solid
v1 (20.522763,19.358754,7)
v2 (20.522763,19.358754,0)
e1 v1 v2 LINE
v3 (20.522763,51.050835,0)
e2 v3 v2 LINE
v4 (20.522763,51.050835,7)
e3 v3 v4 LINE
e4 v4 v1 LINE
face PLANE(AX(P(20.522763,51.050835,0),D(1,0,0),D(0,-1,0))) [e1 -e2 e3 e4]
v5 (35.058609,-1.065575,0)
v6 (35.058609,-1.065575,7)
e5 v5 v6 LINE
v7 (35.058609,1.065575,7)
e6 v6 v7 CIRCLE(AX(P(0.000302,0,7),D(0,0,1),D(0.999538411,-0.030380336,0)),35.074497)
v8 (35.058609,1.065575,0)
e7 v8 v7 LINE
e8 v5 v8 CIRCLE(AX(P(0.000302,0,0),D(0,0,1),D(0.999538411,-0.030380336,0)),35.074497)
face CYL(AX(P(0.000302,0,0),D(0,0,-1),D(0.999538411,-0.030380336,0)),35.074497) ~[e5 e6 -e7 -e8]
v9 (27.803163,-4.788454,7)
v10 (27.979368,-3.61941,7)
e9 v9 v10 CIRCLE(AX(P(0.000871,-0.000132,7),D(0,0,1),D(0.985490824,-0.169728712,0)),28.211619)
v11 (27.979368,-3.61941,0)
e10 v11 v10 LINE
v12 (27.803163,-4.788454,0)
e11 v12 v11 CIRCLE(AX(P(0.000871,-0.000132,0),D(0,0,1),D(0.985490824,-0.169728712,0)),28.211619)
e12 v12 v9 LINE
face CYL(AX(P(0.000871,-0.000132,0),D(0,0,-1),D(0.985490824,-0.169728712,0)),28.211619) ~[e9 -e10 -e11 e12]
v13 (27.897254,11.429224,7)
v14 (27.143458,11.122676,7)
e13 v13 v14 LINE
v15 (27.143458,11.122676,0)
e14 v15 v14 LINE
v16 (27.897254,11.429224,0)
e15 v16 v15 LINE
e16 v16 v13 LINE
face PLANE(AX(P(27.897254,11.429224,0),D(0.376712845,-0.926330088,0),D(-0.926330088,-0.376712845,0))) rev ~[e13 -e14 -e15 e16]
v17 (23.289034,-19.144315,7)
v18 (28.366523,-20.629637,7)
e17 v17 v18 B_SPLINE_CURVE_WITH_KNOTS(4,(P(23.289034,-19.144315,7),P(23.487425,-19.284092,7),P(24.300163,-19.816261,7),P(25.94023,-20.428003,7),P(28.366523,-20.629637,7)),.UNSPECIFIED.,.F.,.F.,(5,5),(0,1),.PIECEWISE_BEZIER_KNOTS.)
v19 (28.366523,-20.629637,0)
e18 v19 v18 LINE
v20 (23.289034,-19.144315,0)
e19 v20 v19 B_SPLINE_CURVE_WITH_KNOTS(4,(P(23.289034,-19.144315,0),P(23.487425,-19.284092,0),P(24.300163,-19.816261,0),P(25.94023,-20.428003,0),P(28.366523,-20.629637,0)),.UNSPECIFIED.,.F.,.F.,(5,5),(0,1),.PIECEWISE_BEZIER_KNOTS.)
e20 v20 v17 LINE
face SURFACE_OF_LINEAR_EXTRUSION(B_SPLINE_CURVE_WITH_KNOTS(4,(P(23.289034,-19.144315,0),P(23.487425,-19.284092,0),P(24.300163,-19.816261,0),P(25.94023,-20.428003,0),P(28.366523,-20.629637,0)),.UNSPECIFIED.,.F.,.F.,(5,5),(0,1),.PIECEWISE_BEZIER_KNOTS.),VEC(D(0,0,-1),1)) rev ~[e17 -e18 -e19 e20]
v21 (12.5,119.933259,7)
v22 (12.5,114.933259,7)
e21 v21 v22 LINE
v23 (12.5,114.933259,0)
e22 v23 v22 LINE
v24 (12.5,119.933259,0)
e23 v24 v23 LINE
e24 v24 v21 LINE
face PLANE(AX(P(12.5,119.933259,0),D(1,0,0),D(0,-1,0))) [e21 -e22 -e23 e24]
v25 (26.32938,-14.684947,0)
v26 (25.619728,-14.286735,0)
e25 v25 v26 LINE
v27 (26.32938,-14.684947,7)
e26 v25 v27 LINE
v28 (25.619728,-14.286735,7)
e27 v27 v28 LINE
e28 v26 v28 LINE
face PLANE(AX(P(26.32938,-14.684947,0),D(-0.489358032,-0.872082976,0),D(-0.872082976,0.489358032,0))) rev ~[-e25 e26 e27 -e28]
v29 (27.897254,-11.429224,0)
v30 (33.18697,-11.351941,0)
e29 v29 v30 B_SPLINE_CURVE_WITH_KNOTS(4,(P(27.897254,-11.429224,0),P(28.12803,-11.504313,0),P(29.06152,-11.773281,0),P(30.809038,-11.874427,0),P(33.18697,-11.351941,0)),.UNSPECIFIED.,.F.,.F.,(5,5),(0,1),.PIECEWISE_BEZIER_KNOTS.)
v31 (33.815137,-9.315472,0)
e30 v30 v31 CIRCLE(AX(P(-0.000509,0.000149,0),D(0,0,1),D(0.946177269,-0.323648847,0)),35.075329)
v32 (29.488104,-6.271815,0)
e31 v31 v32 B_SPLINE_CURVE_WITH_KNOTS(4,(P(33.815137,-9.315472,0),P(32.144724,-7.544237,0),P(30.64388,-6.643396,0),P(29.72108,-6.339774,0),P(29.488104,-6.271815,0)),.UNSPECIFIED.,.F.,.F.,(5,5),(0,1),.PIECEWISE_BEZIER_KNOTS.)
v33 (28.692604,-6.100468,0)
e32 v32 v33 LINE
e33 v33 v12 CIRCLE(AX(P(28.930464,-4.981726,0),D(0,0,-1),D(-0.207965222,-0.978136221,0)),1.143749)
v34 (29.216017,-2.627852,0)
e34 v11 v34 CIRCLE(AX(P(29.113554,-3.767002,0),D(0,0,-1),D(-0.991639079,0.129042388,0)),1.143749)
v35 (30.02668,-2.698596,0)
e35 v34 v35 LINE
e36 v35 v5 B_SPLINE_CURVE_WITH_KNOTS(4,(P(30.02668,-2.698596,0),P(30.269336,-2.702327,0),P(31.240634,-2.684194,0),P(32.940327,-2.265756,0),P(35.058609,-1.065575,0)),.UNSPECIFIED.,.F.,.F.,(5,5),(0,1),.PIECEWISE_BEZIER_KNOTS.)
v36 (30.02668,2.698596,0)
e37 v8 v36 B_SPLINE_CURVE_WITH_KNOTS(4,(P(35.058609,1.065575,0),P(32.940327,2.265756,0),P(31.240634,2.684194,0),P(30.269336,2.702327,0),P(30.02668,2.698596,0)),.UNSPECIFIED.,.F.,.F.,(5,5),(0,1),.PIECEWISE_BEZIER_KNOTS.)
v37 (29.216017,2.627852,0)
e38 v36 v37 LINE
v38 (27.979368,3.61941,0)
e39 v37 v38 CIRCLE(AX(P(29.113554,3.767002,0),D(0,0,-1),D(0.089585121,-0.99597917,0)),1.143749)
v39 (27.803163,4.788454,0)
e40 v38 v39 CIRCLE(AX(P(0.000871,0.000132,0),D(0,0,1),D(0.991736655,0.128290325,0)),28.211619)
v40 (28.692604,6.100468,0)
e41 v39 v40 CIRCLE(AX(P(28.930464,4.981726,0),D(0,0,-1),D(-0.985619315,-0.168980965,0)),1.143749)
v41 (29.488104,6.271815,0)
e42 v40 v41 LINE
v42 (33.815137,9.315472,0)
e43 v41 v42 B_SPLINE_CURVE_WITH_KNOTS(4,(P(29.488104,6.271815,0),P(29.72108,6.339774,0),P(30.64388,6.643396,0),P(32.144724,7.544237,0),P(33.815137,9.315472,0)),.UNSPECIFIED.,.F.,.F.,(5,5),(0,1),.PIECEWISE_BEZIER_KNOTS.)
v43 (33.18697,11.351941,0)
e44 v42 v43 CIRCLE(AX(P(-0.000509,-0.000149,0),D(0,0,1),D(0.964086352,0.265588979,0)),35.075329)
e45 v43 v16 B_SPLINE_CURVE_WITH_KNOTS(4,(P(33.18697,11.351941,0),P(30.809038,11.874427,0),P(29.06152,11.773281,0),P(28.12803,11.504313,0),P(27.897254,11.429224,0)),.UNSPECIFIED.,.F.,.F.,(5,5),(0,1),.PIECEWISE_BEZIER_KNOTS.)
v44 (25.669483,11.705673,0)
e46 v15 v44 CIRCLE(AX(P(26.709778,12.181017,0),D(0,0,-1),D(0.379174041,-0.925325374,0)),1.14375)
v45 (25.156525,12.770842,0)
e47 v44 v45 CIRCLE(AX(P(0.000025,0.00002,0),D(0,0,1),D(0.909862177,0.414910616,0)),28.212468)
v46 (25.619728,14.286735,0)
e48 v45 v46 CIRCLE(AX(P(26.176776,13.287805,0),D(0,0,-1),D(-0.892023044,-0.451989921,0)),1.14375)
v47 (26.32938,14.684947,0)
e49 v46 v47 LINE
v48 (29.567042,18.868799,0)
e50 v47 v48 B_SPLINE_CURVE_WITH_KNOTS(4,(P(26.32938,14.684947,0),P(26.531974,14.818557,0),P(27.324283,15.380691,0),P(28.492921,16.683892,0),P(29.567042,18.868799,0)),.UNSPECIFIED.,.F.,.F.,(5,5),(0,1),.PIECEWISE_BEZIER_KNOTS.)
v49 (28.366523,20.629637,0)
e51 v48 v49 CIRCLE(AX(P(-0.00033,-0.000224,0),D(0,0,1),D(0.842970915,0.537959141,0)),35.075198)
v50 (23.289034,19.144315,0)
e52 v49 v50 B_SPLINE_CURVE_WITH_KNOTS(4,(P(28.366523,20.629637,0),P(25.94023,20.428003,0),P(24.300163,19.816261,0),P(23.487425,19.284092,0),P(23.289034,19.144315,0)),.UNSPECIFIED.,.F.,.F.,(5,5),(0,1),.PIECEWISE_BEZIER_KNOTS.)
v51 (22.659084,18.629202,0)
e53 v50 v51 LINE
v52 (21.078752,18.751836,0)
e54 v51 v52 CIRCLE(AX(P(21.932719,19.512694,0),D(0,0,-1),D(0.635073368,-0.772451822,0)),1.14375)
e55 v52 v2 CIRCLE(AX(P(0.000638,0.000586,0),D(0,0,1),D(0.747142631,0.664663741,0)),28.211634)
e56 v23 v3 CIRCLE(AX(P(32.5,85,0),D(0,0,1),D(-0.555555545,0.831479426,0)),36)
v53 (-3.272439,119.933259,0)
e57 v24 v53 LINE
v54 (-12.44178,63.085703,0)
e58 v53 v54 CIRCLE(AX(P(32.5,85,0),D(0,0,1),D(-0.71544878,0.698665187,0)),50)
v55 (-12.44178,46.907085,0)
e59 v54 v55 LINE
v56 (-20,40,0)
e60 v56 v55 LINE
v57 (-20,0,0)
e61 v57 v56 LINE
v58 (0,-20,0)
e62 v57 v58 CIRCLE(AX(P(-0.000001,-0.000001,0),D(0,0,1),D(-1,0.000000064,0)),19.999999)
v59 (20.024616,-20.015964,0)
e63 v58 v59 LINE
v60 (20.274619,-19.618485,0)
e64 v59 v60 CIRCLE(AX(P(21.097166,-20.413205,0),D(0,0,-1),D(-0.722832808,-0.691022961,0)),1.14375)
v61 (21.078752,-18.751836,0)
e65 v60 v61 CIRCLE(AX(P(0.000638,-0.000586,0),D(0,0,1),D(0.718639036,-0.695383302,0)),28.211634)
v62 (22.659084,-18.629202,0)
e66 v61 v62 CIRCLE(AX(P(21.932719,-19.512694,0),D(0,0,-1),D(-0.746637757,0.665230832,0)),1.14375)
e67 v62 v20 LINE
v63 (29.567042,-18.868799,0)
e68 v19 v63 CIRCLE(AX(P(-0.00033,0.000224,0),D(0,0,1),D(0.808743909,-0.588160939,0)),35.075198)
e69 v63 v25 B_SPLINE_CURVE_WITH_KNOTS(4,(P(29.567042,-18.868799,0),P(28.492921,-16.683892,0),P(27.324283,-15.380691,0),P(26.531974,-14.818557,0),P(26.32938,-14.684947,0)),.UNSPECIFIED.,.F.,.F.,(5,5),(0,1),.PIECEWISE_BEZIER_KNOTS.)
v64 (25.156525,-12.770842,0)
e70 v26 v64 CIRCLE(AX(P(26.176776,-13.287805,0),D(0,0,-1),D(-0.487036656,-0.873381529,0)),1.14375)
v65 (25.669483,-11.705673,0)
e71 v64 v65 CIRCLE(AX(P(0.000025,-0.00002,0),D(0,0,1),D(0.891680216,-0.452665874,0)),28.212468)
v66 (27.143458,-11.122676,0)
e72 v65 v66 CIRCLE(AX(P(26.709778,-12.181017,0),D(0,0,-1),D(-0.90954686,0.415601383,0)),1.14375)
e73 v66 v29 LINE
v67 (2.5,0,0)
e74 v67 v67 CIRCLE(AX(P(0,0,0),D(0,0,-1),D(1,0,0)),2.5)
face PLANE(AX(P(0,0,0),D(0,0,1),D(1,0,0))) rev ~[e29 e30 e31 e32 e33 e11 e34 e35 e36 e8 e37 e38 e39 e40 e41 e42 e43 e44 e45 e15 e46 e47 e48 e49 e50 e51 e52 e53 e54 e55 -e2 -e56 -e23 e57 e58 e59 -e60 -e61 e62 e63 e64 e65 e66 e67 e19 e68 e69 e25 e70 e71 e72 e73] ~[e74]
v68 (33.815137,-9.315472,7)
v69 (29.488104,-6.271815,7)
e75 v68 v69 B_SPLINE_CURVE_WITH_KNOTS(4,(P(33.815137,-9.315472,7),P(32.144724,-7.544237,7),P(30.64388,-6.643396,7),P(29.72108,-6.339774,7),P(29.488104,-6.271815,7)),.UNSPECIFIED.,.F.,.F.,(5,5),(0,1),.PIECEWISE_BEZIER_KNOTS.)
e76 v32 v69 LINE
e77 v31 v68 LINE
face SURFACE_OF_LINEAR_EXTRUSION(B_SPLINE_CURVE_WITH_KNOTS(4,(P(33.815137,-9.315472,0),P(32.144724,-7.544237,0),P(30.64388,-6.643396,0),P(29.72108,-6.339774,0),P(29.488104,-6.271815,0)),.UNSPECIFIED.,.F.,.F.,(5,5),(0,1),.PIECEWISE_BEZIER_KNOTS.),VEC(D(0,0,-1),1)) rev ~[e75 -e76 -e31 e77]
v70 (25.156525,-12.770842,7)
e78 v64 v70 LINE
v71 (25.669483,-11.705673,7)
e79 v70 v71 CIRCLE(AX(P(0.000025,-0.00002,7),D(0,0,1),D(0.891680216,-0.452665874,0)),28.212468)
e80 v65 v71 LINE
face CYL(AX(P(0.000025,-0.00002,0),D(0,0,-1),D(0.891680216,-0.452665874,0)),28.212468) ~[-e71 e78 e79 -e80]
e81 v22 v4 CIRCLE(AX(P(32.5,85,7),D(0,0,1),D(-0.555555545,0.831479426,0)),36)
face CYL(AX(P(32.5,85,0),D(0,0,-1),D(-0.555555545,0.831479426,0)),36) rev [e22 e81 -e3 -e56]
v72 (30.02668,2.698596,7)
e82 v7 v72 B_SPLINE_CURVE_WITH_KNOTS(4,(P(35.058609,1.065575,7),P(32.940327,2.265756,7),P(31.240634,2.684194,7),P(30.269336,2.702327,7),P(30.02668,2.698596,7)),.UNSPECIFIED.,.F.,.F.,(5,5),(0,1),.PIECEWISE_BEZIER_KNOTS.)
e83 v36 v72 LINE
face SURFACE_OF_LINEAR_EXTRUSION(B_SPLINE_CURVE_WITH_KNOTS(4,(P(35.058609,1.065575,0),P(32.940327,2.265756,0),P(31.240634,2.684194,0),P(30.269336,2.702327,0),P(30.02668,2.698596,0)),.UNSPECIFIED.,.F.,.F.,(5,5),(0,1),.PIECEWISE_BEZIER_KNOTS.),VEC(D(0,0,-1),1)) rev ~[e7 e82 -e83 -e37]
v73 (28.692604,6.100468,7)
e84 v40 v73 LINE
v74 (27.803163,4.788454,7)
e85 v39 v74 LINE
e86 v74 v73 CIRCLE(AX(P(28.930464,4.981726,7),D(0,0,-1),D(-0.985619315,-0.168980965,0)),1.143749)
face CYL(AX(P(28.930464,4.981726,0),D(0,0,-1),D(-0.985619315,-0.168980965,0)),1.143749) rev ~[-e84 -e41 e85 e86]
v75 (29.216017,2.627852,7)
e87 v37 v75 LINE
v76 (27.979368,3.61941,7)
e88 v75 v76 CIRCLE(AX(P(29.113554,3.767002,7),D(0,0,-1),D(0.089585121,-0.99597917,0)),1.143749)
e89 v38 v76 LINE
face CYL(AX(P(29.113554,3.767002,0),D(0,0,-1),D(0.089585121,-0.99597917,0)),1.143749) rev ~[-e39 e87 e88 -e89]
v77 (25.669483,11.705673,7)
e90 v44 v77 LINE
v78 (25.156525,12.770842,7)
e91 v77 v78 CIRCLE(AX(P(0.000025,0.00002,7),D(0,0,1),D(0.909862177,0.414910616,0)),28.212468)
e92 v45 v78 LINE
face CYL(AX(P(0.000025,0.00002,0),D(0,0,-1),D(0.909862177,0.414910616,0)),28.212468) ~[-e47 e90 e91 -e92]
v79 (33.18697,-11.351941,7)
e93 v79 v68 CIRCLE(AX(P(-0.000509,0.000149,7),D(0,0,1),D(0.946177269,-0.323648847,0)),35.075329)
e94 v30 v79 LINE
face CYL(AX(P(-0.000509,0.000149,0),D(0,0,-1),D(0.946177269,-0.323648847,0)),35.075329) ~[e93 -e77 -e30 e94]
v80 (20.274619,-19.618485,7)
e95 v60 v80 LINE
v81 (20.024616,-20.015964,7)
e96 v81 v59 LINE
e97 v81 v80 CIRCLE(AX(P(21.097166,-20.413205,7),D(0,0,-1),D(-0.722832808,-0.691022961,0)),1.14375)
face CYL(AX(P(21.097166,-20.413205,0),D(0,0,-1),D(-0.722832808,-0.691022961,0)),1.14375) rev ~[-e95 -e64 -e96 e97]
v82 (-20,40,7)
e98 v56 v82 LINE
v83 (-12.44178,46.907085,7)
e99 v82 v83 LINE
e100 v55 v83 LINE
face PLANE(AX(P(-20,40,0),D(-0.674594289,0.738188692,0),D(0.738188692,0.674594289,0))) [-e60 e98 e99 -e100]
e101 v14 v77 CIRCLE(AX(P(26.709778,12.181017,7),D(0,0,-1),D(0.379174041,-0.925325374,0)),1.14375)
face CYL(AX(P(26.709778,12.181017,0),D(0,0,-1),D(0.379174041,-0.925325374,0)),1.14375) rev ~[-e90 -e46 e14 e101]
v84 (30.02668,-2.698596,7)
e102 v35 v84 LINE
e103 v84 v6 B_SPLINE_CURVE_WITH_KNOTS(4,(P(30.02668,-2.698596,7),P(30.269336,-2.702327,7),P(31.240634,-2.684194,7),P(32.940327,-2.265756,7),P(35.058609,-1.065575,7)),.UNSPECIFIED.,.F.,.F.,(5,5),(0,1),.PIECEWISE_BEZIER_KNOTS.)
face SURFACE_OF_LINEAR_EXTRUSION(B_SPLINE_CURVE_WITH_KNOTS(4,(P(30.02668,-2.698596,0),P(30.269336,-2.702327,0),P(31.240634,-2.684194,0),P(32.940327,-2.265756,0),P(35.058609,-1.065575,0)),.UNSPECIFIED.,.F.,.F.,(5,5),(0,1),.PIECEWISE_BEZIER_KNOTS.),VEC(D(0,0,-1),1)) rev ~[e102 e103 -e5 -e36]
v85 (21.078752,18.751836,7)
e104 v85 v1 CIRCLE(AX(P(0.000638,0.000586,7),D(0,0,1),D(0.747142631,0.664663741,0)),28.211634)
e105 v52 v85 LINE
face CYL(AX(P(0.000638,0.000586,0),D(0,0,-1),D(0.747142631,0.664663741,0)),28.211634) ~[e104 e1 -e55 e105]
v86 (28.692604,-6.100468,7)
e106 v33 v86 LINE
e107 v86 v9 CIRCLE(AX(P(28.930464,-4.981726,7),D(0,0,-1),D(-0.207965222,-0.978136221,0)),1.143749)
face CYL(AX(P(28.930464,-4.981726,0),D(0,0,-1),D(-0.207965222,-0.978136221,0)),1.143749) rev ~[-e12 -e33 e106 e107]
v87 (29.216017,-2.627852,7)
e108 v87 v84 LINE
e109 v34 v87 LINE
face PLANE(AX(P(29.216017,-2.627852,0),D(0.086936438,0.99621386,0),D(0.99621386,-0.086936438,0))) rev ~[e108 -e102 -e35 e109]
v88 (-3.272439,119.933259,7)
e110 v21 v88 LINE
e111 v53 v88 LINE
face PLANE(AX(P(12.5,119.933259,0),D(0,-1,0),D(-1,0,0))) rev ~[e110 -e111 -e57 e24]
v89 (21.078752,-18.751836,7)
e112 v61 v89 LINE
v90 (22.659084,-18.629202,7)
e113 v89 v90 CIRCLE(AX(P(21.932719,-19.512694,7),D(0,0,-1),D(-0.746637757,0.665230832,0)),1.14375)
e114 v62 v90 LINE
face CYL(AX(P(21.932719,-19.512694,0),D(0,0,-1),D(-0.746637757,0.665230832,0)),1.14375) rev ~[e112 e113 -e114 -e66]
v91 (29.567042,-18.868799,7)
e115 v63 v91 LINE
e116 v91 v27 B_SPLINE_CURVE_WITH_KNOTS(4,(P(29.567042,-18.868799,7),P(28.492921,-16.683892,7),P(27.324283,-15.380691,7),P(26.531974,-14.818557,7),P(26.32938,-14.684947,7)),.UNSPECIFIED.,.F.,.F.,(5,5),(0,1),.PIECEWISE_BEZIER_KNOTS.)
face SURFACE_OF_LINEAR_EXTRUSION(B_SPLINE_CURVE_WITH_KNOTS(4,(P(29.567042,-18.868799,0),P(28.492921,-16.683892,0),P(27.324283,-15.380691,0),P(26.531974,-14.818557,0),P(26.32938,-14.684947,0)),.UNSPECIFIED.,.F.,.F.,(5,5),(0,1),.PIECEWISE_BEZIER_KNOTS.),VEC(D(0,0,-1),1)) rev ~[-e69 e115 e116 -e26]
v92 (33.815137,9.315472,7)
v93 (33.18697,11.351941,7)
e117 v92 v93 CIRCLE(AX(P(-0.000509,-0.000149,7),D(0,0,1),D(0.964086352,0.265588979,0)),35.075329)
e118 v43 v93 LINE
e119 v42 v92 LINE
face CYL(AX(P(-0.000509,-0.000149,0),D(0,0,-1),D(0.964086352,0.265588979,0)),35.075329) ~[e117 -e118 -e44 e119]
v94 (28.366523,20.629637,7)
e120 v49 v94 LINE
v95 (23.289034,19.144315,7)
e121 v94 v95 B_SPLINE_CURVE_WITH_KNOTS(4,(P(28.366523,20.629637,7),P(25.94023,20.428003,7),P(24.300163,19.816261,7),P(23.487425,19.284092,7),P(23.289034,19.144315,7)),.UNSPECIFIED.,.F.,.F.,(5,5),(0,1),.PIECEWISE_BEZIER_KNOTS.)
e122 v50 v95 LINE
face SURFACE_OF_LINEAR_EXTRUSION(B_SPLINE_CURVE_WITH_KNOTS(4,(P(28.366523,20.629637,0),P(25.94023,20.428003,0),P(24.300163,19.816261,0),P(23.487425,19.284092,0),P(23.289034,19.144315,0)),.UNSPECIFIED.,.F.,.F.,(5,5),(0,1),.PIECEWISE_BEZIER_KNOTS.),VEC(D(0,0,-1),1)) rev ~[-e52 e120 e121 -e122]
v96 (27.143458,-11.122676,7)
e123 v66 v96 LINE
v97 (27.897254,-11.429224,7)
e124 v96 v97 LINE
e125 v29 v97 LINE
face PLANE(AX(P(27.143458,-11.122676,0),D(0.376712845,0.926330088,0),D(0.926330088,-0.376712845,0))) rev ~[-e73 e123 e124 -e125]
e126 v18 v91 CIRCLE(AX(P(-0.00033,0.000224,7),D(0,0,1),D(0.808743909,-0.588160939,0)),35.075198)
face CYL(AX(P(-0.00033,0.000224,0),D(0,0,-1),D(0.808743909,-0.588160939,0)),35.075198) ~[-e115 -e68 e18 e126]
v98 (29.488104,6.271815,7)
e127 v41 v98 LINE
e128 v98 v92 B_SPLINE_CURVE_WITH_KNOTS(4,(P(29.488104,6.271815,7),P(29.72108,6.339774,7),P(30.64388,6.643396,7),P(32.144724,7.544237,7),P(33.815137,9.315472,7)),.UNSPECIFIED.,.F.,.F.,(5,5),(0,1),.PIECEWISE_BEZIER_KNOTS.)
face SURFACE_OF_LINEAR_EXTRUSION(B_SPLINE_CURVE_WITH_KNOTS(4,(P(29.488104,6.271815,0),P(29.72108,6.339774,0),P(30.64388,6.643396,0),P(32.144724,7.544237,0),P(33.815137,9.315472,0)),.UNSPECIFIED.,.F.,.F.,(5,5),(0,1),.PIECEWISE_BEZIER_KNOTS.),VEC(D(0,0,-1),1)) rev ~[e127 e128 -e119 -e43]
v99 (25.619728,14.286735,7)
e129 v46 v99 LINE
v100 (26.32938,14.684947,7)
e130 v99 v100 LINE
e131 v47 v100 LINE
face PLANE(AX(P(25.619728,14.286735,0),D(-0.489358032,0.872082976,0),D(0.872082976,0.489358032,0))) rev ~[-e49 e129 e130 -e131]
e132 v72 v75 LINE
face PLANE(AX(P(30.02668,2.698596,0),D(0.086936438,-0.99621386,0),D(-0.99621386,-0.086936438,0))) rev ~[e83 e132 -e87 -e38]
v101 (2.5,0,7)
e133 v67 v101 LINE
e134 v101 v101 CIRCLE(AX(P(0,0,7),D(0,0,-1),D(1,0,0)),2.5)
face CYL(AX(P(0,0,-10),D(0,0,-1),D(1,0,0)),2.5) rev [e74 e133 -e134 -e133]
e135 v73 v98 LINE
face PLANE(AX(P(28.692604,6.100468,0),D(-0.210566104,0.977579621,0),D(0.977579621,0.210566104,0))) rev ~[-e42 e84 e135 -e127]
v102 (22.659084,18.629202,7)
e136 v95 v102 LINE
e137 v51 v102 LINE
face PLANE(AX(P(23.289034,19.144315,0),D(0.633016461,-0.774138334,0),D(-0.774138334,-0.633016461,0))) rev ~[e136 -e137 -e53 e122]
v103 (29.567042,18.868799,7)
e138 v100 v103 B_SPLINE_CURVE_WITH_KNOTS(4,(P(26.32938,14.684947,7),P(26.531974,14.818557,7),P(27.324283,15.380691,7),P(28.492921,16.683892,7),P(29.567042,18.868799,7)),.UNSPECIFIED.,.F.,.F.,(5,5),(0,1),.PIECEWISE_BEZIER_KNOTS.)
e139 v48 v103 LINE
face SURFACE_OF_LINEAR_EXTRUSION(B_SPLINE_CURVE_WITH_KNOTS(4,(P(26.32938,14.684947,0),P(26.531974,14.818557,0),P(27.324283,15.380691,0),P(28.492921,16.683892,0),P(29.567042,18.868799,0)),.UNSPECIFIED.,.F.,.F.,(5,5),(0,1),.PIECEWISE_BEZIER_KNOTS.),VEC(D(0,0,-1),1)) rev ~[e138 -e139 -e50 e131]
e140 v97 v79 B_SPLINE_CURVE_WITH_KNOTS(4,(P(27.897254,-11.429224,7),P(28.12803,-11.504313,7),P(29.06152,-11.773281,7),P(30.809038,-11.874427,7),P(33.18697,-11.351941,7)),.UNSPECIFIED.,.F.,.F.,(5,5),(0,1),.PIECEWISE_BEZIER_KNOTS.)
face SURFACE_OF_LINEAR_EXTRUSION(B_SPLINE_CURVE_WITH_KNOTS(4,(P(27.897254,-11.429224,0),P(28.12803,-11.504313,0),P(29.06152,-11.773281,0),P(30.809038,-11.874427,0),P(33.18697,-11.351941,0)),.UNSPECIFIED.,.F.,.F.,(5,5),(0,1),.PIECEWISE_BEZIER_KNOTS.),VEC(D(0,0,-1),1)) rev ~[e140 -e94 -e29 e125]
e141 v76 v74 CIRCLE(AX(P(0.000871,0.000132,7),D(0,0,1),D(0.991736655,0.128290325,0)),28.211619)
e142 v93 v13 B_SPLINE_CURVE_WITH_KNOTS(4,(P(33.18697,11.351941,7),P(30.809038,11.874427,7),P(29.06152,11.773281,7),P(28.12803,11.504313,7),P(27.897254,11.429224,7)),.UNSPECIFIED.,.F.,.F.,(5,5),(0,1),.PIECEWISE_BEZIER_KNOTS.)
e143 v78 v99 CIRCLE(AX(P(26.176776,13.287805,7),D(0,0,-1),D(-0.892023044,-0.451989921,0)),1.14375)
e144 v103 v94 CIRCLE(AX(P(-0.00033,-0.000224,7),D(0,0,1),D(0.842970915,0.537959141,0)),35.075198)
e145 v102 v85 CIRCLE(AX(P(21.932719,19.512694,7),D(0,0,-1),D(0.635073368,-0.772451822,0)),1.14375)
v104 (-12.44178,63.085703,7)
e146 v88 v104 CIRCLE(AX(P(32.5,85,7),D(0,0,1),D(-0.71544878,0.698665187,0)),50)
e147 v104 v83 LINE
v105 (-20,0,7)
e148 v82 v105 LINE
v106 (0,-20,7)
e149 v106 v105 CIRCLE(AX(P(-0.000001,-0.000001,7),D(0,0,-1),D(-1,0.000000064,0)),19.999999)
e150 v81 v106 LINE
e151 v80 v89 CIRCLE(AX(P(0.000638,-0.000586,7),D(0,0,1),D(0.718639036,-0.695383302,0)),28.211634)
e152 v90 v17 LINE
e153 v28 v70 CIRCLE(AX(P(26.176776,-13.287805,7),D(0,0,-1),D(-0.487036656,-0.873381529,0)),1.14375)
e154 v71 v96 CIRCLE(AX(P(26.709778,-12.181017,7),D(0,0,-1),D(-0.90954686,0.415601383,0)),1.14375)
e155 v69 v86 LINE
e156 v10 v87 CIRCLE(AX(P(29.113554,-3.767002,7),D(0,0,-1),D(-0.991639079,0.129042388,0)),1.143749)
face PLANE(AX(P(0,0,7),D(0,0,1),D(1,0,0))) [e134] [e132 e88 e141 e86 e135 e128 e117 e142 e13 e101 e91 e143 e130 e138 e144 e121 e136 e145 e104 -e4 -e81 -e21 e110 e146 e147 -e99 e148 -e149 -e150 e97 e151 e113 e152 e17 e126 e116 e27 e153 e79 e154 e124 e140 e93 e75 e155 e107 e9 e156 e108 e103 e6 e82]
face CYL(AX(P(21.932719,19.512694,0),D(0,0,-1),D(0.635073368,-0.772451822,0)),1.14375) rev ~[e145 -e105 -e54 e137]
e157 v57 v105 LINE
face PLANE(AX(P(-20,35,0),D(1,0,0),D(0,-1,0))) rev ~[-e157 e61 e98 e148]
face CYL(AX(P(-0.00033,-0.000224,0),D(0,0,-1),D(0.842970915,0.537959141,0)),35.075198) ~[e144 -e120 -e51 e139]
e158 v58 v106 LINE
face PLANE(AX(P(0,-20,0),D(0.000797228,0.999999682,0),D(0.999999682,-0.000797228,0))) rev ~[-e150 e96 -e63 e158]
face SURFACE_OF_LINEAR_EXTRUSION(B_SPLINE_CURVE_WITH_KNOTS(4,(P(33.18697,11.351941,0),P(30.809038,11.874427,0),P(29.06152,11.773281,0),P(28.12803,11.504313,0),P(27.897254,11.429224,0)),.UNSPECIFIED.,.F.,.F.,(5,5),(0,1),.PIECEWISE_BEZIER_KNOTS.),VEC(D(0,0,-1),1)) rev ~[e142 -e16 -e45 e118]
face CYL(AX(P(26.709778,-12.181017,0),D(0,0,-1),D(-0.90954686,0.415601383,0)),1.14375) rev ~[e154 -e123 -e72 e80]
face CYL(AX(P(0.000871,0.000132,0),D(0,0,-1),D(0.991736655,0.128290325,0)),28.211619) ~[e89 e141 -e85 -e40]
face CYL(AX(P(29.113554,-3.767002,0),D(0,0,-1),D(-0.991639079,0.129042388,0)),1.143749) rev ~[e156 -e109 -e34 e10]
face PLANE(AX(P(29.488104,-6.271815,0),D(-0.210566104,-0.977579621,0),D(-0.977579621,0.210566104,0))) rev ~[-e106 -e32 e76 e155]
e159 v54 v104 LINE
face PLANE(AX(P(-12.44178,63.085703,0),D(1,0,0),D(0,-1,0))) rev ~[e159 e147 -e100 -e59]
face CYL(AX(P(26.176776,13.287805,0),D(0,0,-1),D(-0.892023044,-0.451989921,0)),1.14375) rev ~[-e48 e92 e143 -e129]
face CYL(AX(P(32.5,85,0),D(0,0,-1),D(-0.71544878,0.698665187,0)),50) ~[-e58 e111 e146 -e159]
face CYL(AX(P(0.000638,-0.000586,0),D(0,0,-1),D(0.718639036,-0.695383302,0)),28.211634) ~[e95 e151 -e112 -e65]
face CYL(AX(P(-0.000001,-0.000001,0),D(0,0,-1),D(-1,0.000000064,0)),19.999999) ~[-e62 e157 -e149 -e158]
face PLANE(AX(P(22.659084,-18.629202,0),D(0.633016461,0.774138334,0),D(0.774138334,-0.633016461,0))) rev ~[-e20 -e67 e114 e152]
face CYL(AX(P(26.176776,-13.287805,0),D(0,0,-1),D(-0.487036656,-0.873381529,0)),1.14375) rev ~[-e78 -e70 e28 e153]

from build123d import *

# Parameters (mm, degrees)
SKETCH002_W       = 3.675859
SKETCH002_H       = 9.820133
PAD002_DEPTH      = 10
CYLINDER001_R     = 2.5
CYLINDER001_DEPTH = 30
PAD_DEPTH         = 7
PAD001_DEPTH      = 7


with BuildPart() as gearcutter_g:
    # Sketch002 → Pad002 (new body)
    with BuildSketch(Plane.XY):
        with BuildLine():
            Line((-20, 35), (-38.772621, 35))
            Line((-38.772621, 35), (-38.772621, -38.212818))
            Line((-38.772621, -38.212818), (39.418999, -38.212818))
            Line((20.044458, -20.01598), (39.418999, -38.212818))
            Line((0, -20), (20.044458, -20.01598))
            ThreePointArc((-20, 0), (-14.142136, -14.142136), (0, -20))
            Line((-20, 35), (-20, 0))
        make_face()
        with Locations((21.83793, 25.089934)):
            Rectangle(SKETCH002_W, SKETCH002_H)
    extrude(amount=PAD002_DEPTH)


with BuildPart() as hole:
    # Cylinder001 → Cylinder001 (new body)
    with BuildSketch(Plane.XY.offset(-10)):
        Circle(CYLINDER001_R)
    extrude(amount=CYLINDER001_DEPTH)


with BuildPart() as cut001:
    # InvoluteGear → Pad (new body)
    with BuildSketch(Plane.XY):
        with BuildLine():
            Line((29.216017, -2.627852), (30.02668, -2.698596))
            add(Edge.make_bspline(
                [(30.02668, -2.698596), (30.269336, -2.702327), (31.240634, -2.684194), (32.940327, -2.265756), (35.058609, -1.065575)],
                knots=[0, 0, 0, 0, 0, 1, 1, 1, 1, 1], degree=4))
            ThreePointArc((35.058609, -1.065575), (35.074799, 0), (35.058609, 1.065575))
            add(Edge.make_bspline(
                [(35.058609, 1.065575), (32.940327, 2.265756), (31.240634, 2.684194), (30.269336, 2.702327), (30.02668, 2.698596)],
                knots=[0, 0, 0, 0, 0, 1, 1, 1, 1, 1], degree=4))
            Line((30.02668, 2.698596), (29.216017, 2.627852))
            ThreePointArc((29.216017, 2.627852), (28.398075, 2.874673), (27.979368, 3.61941))
            ThreePointArc((27.979368, 3.61941), (27.89739, 4.204855), (27.803163, 4.788454))
            ThreePointArc((27.803163, 4.788454), (27.983753, 5.62352), (28.692604, 6.100468))
            Line((28.692604, 6.100468), (29.488104, 6.271815))
            add(Edge.make_bspline(
                [(29.488104, 6.271815), (29.72108, 6.339774), (30.64388, 6.643396), (32.144724, 7.544237), (33.815137, 9.315472)],
                knots=[0, 0, 0, 0, 0, 1, 1, 1, 1, 1], degree=4))
            ThreePointArc((33.815137, 9.315472), (33.516524, 10.338478), (33.18697, 11.351941))
            add(Edge.make_bspline(
                [(33.18697, 11.351941), (30.809038, 11.874427), (29.06152, 11.773281), (28.12803, 11.504313), (27.897254, 11.429224)],
                knots=[0, 0, 0, 0, 0, 1, 1, 1, 1, 1], degree=4))
            Line((27.897254, 11.429224), (27.143458, 11.122676))
            ThreePointArc((27.143458, 11.122676), (26.289104, 11.117439), (25.669483, 11.705673))
            ThreePointArc((25.669483, 11.705673), (25.418584, 12.240945), (25.156525, 12.770842))
            ThreePointArc((25.156525, 12.770842), (25.082952, 13.622039), (25.619728, 14.286735))
            Line((25.619728, 14.286735), (26.32938, 14.684947))
            add(Edge.make_bspline(
                [(26.32938, 14.684947), (26.531974, 14.818557), (27.324283, 15.380691), (28.492921, 16.683892), (29.567042, 18.868799)],
                knots=[0, 0, 0, 0, 0, 1, 1, 1, 1, 1], degree=4))
            ThreePointArc((29.567042, 18.868799), (28.980159, 19.758338), (28.366523, 20.629637))
            add(Edge.make_bspline(
                [(28.366523, 20.629637), (25.94023, 20.428003), (24.300163, 19.816261), (23.487425, 19.284092), (23.289034, 19.144315)],
                knots=[0, 0, 0, 0, 0, 1, 1, 1, 1, 1], degree=4))
            Line((23.289034, 19.144315), (22.659084, 18.629202))
            ThreePointArc((22.659084, 18.629202), (21.84423, 18.372372), (21.078752, 18.751836))
            ThreePointArc((21.078752, 18.751836), (20.681226, 19.189373), (20.274619, 19.618485))
            ThreePointArc((20.274619, 19.618485), (19.95342, 20.41018), (20.270426, 21.203563))
            Line((20.270426, 21.203563), (20.831176, 21.793257))
            add(Edge.make_bspline(
                [(20.831176, 21.793257), (20.985387, 21.980647), (21.576804, 22.751344), (22.309397, 24.341109), (22.691785, 26.745549)],
                knots=[0, 0, 0, 0, 0, 1, 1, 1, 1, 1], degree=4))
            ThreePointArc((22.691785, 26.745549), (21.868779, 27.422582), (21.025585, 28.074299))
            add(Edge.make_bspline(
                [(21.025585, 28.074299), (18.766519, 27.166461), (17.37963, 26.098479), (16.759858, 25.350393), (16.611482, 25.15835)],
                knots=[0, 0, 0, 0, 0, 1, 1, 1, 1, 1], degree=4))
            Line((16.611482, 25.15835), (16.161351, 24.480441))
            ThreePointArc((16.161351, 24.480441), (15.4584, 23.994839), (14.615082, 24.131816))
            ThreePointArc((14.615082, 24.131816), (14.10625, 24.432742), (13.591225, 24.72294))
            ThreePointArc((13.591225, 24.72294), (13.05094, 25.384787), (13.120008, 26.236361))
            Line((13.120008, 26.236361), (13.48203, 26.96514))
            add(Edge.make_bspline(
                [(13.48203, 26.96514), (13.574155, 27.18966), (13.912131, 28.10044), (14.143586, 29.835512), (13.800264, 32.245841)],
                knots=[0, 0, 0, 0, 0, 1, 1, 1, 1, 1], degree=4))
            ThreePointArc((13.800264, 32.245841), (12.814263, 32.65021), (11.816433, 33.024437))
            add(Edge.make_bspline(
                [(11.816433, 33.024437), (9.92532, 31.49106), (8.91484, 30.061732), (8.543105, 29.164202), (8.457926, 28.936956)],
                knots=[0, 0, 0, 0, 0, 1, 1, 1, 1, 1], degree=4))
            Line((8.457926, 28.936956), (8.227611, 28.156485))
            ThreePointArc((8.227611, 28.156485), (7.699024, 27.485259), (6.852797, 27.367578))
            ThreePointArc((6.852797, 27.367578), (6.277872, 27.505154), (5.70019, 27.630653))
            ThreePointArc((5.70019, 27.630653), (4.988826, 28.103844), (4.80382, 28.937943))
            Line((4.80382, 28.937943), (4.934946, 29.741053))
            add(Edge.make_bspline(
                [(4.934946, 29.741053), (4.956801, 29.982752), (5.011304, 30.952689), (4.721054, 32.678899), (3.682528, 34.880948)],
                knots=[0, 0, 0, 0, 0, 1, 1, 1, 1, 1], degree=4))
            ThreePointArc((3.682528, 34.880948), (2.621143, 34.976723), (1.557338, 35.040209))
            add(Edge.make_bspline(
                [(1.557338, 35.040209), (0.202213, 33.01754), (-0.342073, 31.353869), (-0.43274, 30.386642), (-0.447153, 30.144385)],
                knots=[0, 0, 0, 0, 0, 1, 1, 1, 1, 1], degree=4))
            Line((-0.447153, 30.144385), (-0.437188, 29.330703))
            ThreePointArc((-0.437188, 29.330703), (-0.744444, 28.533493), (-1.518389, 28.171611))
            ThreePointArc((-1.518389, 28.171611), (-2.108323, 28.133612), (-2.697331, 28.083261))
            ThreePointArc((-2.697331, 28.083261), (-3.516567, 28.325751), (-3.939209, 29.068262))
            Line((-3.939209, 29.068262), (-4.050629, 29.874342))
            add(Edge.make_bspline(
                [(-4.050629, 29.874342), (-4.100987, 30.111745), (-4.3348, 31.054656), (-5.120964, 32.618623), (-6.762416, 34.416729)],
                knots=[0, 0, 0, 0, 0, 1, 1, 1, 1, 1], degree=4))
            ThreePointArc((-6.762416, 34.416729), (-7.804877, 34.195401), (-8.840133, 33.942504))
            add(Edge.make_bspline(
                [(-8.840133, 33.942504), (-9.538861, 31.610267), (-9.56859, 29.860077), (-9.370135, 28.909097), (-9.312501, 28.673354)],
                knots=[0, 0, 0, 0, 0, 1, 1, 1, 1, 1], degree=4))
            Line((-9.312501, 28.673354), (-9.063142, 27.898758))
            ThreePointArc((-9.063142, 27.898758), (-9.121765, 27.046401), (-9.754659, 26.472472))
            ThreePointArc((-9.754659, 26.472472), (-10.307184, 26.262276), (-10.855183, 26.040548))
            ThreePointArc((-10.855183, 26.040548), (-11.709498, 26.030791), (-12.332222, 26.615739))
            Line((-12.332222, 26.615739), (-12.676288, 27.353165))
            add(Edge.make_bspline(
                [(-12.676288, 27.353165), (-12.794385, 27.565178), (-13.295737, 28.39728), (-14.507962, 29.660038), (-16.60649, 30.894434)],
                knots=[0, 0, 0, 0, 0, 1, 1, 1, 1, 1], degree=4))
            ThreePointArc((-16.60649, 30.894434), (-17.537399, 30.375667), (-18.452119, 29.828859))
            add(Edge.make_bspline(
                [(-18.452119, 29.828859), (-18.432366, 27.394282), (-17.944897, 25.713086), (-17.474952, 24.862851), (-17.350392, 24.65457)],
                knots=[0, 0, 0, 0, 0, 1, 1, 1, 1, 1], degree=4))
            Line((-17.350392, 24.65457), (-16.883795, 23.987887))
            ThreePointArc((-16.883795, 23.987887), (-16.688578, 23.156118), (-17.124185, 22.421138))
            ThreePointArc((-17.124185, 22.421138), (-17.590206, 22.057421), (-18.048504, 21.684019))
            ThreePointArc((-18.048504, 21.684019), (-18.861988, 21.422881), (-19.629463, 21.79829))
            Line((-19.629463, 21.79829), (-20.175603, 22.401539))
            add(Edge.make_bspline(
                [(-20.175603, 22.401539), (-20.350945, 22.569323), (-21.07529, 23.216681), (-22.605863, 24.066029), (-24.975004, 24.627032)],
                knots=[0, 0, 0, 0, 0, 1, 1, 1, 1, 1], degree=4))
            ThreePointArc((-24.975004, 24.627032), (-25.711647, 23.856922), (-26.424554, 23.064789))
            add(Edge.make_bspline(
                [(-26.424554, 23.064789), (-25.688074, 20.744196), (-24.726721, 19.281374), (-24.027043, 18.607432), (-23.846625, 18.445118)],
                knots=[0, 0, 0, 0, 0, 1, 1, 1, 1, 1], degree=4))
            Line((-23.846625, 18.445118), (-23.204249, 17.945586))
            ThreePointArc((-23.204249, 17.945586), (-22.772537, 17.208312), (-22.972152, 16.377588))
            ThreePointArc((-22.972152, 16.377588), (-23.310261, 15.892667), (-23.638136, 15.400768))
            ThreePointArc((-23.638136, 15.400768), (-24.338508, 14.911454), (-25.182539, 15.043968))
            Line((-25.182539, 15.043968), (-25.882227, 15.459439))
            add(Edge.make_bspline(
                [(-25.882227, 15.459439), (-26.099234, 15.568085), (-26.982211, 15.973178), (-28.695135, 16.333648), (-31.12438, 16.17141)],
                knots=[0, 0, 0, 0, 0, 1, 1, 1, 1, 1], degree=4))
            ThreePointArc((-31.12438, 16.17141), (-31.601302, 15.218385), (-32.049051, 14.251311))
            add(Edge.make_bspline(
                [(-32.049051, 14.251311), (-30.661284, 12.250897), (-29.311467, 11.136428), (-28.444225, 10.698661), (-28.22398, 10.596737)],
                knots=[0, 0, 0, 0, 0, 1, 1, 1, 1, 1], degree=4))
            Line((-28.22398, 10.596737), (-27.462904, 10.308742))
            ThreePointArc((-27.462904, 10.308742), (-26.833056, 9.731472), (-26.778943, 8.878817))
            ThreePointArc((-26.778943, 8.878817), (-26.959098, 8.31578), (-27.127416, 7.749093))
            ThreePointArc((-27.127416, 7.749093), (-27.652445, 7.075079), (-28.498037, 6.952923))
            Line((-28.498037, 6.952923), (-29.289102, 7.143699))
            add(Edge.make_bspline(
                [(-29.289102, 7.143699), (-29.528492, 7.183554), (-30.491644, 7.310388), (-32.234718, 7.14995), (-34.508218, 6.278888)],
                knots=[0, 0, 0, 0, 0, 1, 1, 1, 1, 1], degree=4))
            ThreePointArc((-34.508218, 6.278888), (-34.683042, 5.227628), (-34.825849, 4.171541))
            add(Edge.make_bspline(
                [(-34.825849, 4.171541), (-32.910105, 2.669052), (-31.29176, 2.001961), (-30.334014, 1.839267), (-30.093511, 1.80679)],
                knots=[0, 0, 0, 0, 0, 1, 1, 1, 1, 1], degree=4))
            Line((-30.093511, 1.80679), (-29.281359, 1.75592))
            ThreePointArc((-29.281359, 1.75592), (-28.50934, 1.389948), (-28.206307, 0.591124))
            ThreePointArc((-28.206307, 0.591124), (-28.2125, 0), (-28.206307, -0.591124))
            ThreePointArc((-28.206307, -0.591124), (-28.50934, -1.389948), (-29.281359, -1.75592))
            Line((-29.281359, -1.75592), (-30.093511, -1.80679))
            add(Edge.make_bspline(
                [(-30.093511, -1.80679), (-30.334014, -1.839267), (-31.29176, -2.001961), (-32.910105, -2.669052), (-34.825849, -4.171541)],
                knots=[0, 0, 0, 0, 0, 1, 1, 1, 1, 1], degree=4))
            ThreePointArc((-34.825849, -4.171541), (-34.683042, -5.227628), (-34.508218, -6.278888))
            add(Edge.make_bspline(
                [(-34.508218, -6.278888), (-32.234718, -7.14995), (-30.491644, -7.310388), (-29.528492, -7.183554), (-29.289102, -7.143699)],
                knots=[0, 0, 0, 0, 0, 1, 1, 1, 1, 1], degree=4))
            Line((-29.289102, -7.143699), (-28.498037, -6.952923))
            ThreePointArc((-28.498037, -6.952923), (-27.652445, -7.075079), (-27.127416, -7.749093))
            ThreePointArc((-27.127416, -7.749093), (-26.959098, -8.31578), (-26.778943, -8.878817))
            ThreePointArc((-26.778943, -8.878817), (-26.833056, -9.731472), (-27.462904, -10.308742))
            Line((-27.462904, -10.308742), (-28.22398, -10.596737))
            add(Edge.make_bspline(
                [(-28.22398, -10.596737), (-28.444225, -10.698661), (-29.311467, -11.136428), (-30.661284, -12.250897), (-32.049051, -14.251311)],
                knots=[0, 0, 0, 0, 0, 1, 1, 1, 1, 1], degree=4))
            ThreePointArc((-32.049051, -14.251311), (-31.601302, -15.218385), (-31.12438, -16.17141))
            add(Edge.make_bspline(
                [(-31.12438, -16.17141), (-28.695135, -16.333648), (-26.982211, -15.973178), (-26.099234, -15.568085), (-25.882227, -15.459439)],
                knots=[0, 0, 0, 0, 0, 1, 1, 1, 1, 1], degree=4))
            Line((-25.882227, -15.459439), (-25.182539, -15.043968))
            ThreePointArc((-25.182539, -15.043968), (-24.338508, -14.911454), (-23.638136, -15.400768))
            ThreePointArc((-23.638136, -15.400768), (-23.310261, -15.892667), (-22.972152, -16.377588))
            ThreePointArc((-22.972152, -16.377588), (-22.772537, -17.208312), (-23.204249, -17.945586))
            Line((-23.204249, -17.945586), (-23.846625, -18.445118))
            add(Edge.make_bspline(
                [(-23.846625, -18.445118), (-24.027043, -18.607432), (-24.726721, -19.281374), (-25.688074, -20.744196), (-26.424554, -23.064789)],
                knots=[0, 0, 0, 0, 0, 1, 1, 1, 1, 1], degree=4))
            ThreePointArc((-26.424554, -23.064789), (-25.711647, -23.856922), (-24.975004, -24.627032))
            add(Edge.make_bspline(
                [(-24.975004, -24.627032), (-22.605863, -24.066029), (-21.07529, -23.216681), (-20.350945, -22.569323), (-20.175603, -22.401539)],
                knots=[0, 0, 0, 0, 0, 1, 1, 1, 1, 1], degree=4))
            Line((-20.175603, -22.401539), (-19.629463, -21.79829))
            ThreePointArc((-19.629463, -21.79829), (-18.861988, -21.422881), (-18.048504, -21.684019))
            ThreePointArc((-18.048504, -21.684019), (-17.590206, -22.057421), (-17.124185, -22.421138))
            ThreePointArc((-17.124185, -22.421138), (-16.688578, -23.156118), (-16.883795, -23.987887))
            Line((-16.883795, -23.987887), (-17.350392, -24.65457))
            add(Edge.make_bspline(
                [(-17.350392, -24.65457), (-17.474952, -24.862851), (-17.944897, -25.713086), (-18.432366, -27.394282), (-18.452119, -29.828859)],
                knots=[0, 0, 0, 0, 0, 1, 1, 1, 1, 1], degree=4))
            ThreePointArc((-18.452119, -29.828859), (-17.537399, -30.375667), (-16.60649, -30.894434))
            add(Edge.make_bspline(
                [(-16.60649, -30.894434), (-14.507962, -29.660038), (-13.295737, -28.39728), (-12.794385, -27.565178), (-12.676288, -27.353165)],
                knots=[0, 0, 0, 0, 0, 1, 1, 1, 1, 1], degree=4))
            Line((-12.676288, -27.353165), (-12.332222, -26.615739))
            ThreePointArc((-12.332222, -26.615739), (-11.709498, -26.030791), (-10.855183, -26.040548))
            ThreePointArc((-10.855183, -26.040548), (-10.307184, -26.262276), (-9.754659, -26.472472))
            ThreePointArc((-9.754659, -26.472472), (-9.121765, -27.046401), (-9.063142, -27.898758))
            Line((-9.063142, -27.898758), (-9.312501, -28.673354))
            add(Edge.make_bspline(
                [(-9.312501, -28.673354), (-9.370135, -28.909097), (-9.56859, -29.860077), (-9.538861, -31.610267), (-8.840133, -33.942504)],
                knots=[0, 0, 0, 0, 0, 1, 1, 1, 1, 1], degree=4))
            ThreePointArc((-8.840133, -33.942504), (-7.804877, -34.195401), (-6.762416, -34.416729))
            add(Edge.make_bspline(
                [(-6.762416, -34.416729), (-5.120964, -32.618623), (-4.3348, -31.054656), (-4.100987, -30.111745), (-4.050629, -29.874342)],
                knots=[0, 0, 0, 0, 0, 1, 1, 1, 1, 1], degree=4))
            Line((-4.050629, -29.874342), (-3.939209, -29.068262))
            ThreePointArc((-3.939209, -29.068262), (-3.516567, -28.325751), (-2.697331, -28.083261))
            ThreePointArc((-2.697331, -28.083261), (-2.108323, -28.133612), (-1.518389, -28.171611))
            ThreePointArc((-1.518389, -28.171611), (-0.744444, -28.533493), (-0.437188, -29.330703))
            Line((-0.437188, -29.330703), (-0.447153, -30.144385))
            add(Edge.make_bspline(
                [(-0.447153, -30.144385), (-0.43274, -30.386642), (-0.342073, -31.353869), (0.202213, -33.01754), (1.557338, -35.040209)],
                knots=[0, 0, 0, 0, 0, 1, 1, 1, 1, 1], degree=4))
            ThreePointArc((1.557338, -35.040209), (2.621143, -34.976723), (3.682528, -34.880948))
            add(Edge.make_bspline(
                [(3.682528, -34.880948), (4.721054, -32.678899), (5.011304, -30.952689), (4.956801, -29.982752), (4.934946, -29.741053)],
                knots=[0, 0, 0, 0, 0, 1, 1, 1, 1, 1], degree=4))
            Line((4.934946, -29.741053), (4.80382, -28.937943))
            ThreePointArc((4.80382, -28.937943), (4.988826, -28.103844), (5.70019, -27.630653))
            ThreePointArc((5.70019, -27.630653), (6.277872, -27.505154), (6.852797, -27.367578))
            ThreePointArc((6.852797, -27.367578), (7.699024, -27.485259), (8.227611, -28.156485))
            Line((8.227611, -28.156485), (8.457926, -28.936956))
            add(Edge.make_bspline(
                [(8.457926, -28.936956), (8.543105, -29.164202), (8.91484, -30.061732), (9.92532, -31.49106), (11.816433, -33.024437)],
                knots=[0, 0, 0, 0, 0, 1, 1, 1, 1, 1], degree=4))
            ThreePointArc((11.816433, -33.024437), (12.814263, -32.65021), (13.800264, -32.245841))
            add(Edge.make_bspline(
                [(13.800264, -32.245841), (14.143586, -29.835512), (13.912131, -28.10044), (13.574155, -27.18966), (13.48203, -26.96514)],
                knots=[0, 0, 0, 0, 0, 1, 1, 1, 1, 1], degree=4))
            Line((13.48203, -26.96514), (13.120008, -26.236361))
            ThreePointArc((13.120008, -26.236361), (13.05094, -25.384787), (13.591225, -24.72294))
            ThreePointArc((13.591225, -24.72294), (14.10625, -24.432742), (14.615082, -24.131816))
            ThreePointArc((14.615082, -24.131816), (15.4584, -23.994839), (16.161351, -24.480441))
            Line((16.161351, -24.480441), (16.611482, -25.15835))
            add(Edge.make_bspline(
                [(16.611482, -25.15835), (16.759858, -25.350393), (17.37963, -26.098479), (18.766519, -27.166461), (21.025585, -28.074299)],
                knots=[0, 0, 0, 0, 0, 1, 1, 1, 1, 1], degree=4))
            ThreePointArc((21.025585, -28.074299), (21.868779, -27.422582), (22.691785, -26.745549))
            add(Edge.make_bspline(
                [(22.691785, -26.745549), (22.309397, -24.341109), (21.576804, -22.751344), (20.985387, -21.980647), (20.831176, -21.793257)],
                knots=[0, 0, 0, 0, 0, 1, 1, 1, 1, 1], degree=4))
            Line((20.831176, -21.793257), (20.270426, -21.203563))
            ThreePointArc((20.270426, -21.203563), (19.95342, -20.41018), (20.274619, -19.618485))
            ThreePointArc((20.274619, -19.618485), (20.681226, -19.189373), (21.078752, -18.751836))
            ThreePointArc((21.078752, -18.751836), (21.84423, -18.372372), (22.659084, -18.629202))
            Line((22.659084, -18.629202), (23.289034, -19.144315))
            add(Edge.make_bspline(
                [(23.289034, -19.144315), (23.487425, -19.284092), (24.300163, -19.816261), (25.94023, -20.428003), (28.366523, -20.629637)],
                knots=[0, 0, 0, 0, 0, 1, 1, 1, 1, 1], degree=4))
            ThreePointArc((28.366523, -20.629637), (28.980159, -19.758338), (29.567042, -18.868799))
            add(Edge.make_bspline(
                [(29.567042, -18.868799), (28.492921, -16.683892), (27.324283, -15.380691), (26.531974, -14.818557), (26.32938, -14.684947)],
                knots=[0, 0, 0, 0, 0, 1, 1, 1, 1, 1], degree=4))
            Line((26.32938, -14.684947), (25.619728, -14.286735))
            ThreePointArc((25.619728, -14.286735), (25.082952, -13.622039), (25.156525, -12.770842))
            ThreePointArc((25.156525, -12.770842), (25.418584, -12.240945), (25.669483, -11.705673))
            ThreePointArc((25.669483, -11.705673), (26.289104, -11.117439), (27.143458, -11.122676))
            Line((27.143458, -11.122676), (27.897254, -11.429224))
            add(Edge.make_bspline(
                [(27.897254, -11.429224), (28.12803, -11.504313), (29.06152, -11.773281), (30.809038, -11.874427), (33.18697, -11.351941)],
                knots=[0, 0, 0, 0, 0, 1, 1, 1, 1, 1], degree=4))
            ThreePointArc((33.18697, -11.351941), (33.516524, -10.338478), (33.815137, -9.315472))
            add(Edge.make_bspline(
                [(33.815137, -9.315472), (32.144724, -7.544237), (30.64388, -6.643396), (29.72108, -6.339774), (29.488104, -6.271815)],
                knots=[0, 0, 0, 0, 0, 1, 1, 1, 1, 1], degree=4))
            Line((29.488104, -6.271815), (28.692604, -6.100468))
            ThreePointArc((28.692604, -6.100468), (27.983753, -5.62352), (27.803163, -4.788454))
            ThreePointArc((27.803163, -4.788454), (27.89739, -4.204855), (27.979368, -3.61941))
            ThreePointArc((27.979368, -3.61941), (28.398075, -2.874673), (29.216017, -2.627852))
        make_face()
    extrude(amount=PAD_DEPTH)

    # Cut: cut hole
    add(hole.part, mode=Mode.SUBTRACT)

    # Cut001: cut gearcutter_g
    add(gearcutter_g.part, mode=Mode.SUBTRACT)


with BuildPart() as pince_g:
    # Sketch001 → Pad001 (new body)
    with BuildSketch(Plane.XY):
        with BuildLine():
            Line((20.522763, 10), (-20, 10))
            Line((-20, 10), (-20, 40))
            Line((-20, 40), (-12.44178, 46.907085))
            Line((-12.44178, 63.085703), (-12.44178, 46.907085))
            ThreePointArc((-3.272439, 119.933259), (-16.862004, 92.961944), (-12.44178, 63.085703))
            Line((12.5, 119.933259), (-3.272439, 119.933259))
            Line((12.5, 119.933259), (12.5, 114.933259))
            ThreePointArc((12.5, 114.933259), (-3.21942, 80.514127), (20.522763, 51.050835))
            Line((20.522763, 51.050835), (20.522763, 10))
        make_face()
    extrude(amount=PAD001_DEPTH)

    # Fusion: union Cut001
    add(cut001.part)


solid = pince_g.part
